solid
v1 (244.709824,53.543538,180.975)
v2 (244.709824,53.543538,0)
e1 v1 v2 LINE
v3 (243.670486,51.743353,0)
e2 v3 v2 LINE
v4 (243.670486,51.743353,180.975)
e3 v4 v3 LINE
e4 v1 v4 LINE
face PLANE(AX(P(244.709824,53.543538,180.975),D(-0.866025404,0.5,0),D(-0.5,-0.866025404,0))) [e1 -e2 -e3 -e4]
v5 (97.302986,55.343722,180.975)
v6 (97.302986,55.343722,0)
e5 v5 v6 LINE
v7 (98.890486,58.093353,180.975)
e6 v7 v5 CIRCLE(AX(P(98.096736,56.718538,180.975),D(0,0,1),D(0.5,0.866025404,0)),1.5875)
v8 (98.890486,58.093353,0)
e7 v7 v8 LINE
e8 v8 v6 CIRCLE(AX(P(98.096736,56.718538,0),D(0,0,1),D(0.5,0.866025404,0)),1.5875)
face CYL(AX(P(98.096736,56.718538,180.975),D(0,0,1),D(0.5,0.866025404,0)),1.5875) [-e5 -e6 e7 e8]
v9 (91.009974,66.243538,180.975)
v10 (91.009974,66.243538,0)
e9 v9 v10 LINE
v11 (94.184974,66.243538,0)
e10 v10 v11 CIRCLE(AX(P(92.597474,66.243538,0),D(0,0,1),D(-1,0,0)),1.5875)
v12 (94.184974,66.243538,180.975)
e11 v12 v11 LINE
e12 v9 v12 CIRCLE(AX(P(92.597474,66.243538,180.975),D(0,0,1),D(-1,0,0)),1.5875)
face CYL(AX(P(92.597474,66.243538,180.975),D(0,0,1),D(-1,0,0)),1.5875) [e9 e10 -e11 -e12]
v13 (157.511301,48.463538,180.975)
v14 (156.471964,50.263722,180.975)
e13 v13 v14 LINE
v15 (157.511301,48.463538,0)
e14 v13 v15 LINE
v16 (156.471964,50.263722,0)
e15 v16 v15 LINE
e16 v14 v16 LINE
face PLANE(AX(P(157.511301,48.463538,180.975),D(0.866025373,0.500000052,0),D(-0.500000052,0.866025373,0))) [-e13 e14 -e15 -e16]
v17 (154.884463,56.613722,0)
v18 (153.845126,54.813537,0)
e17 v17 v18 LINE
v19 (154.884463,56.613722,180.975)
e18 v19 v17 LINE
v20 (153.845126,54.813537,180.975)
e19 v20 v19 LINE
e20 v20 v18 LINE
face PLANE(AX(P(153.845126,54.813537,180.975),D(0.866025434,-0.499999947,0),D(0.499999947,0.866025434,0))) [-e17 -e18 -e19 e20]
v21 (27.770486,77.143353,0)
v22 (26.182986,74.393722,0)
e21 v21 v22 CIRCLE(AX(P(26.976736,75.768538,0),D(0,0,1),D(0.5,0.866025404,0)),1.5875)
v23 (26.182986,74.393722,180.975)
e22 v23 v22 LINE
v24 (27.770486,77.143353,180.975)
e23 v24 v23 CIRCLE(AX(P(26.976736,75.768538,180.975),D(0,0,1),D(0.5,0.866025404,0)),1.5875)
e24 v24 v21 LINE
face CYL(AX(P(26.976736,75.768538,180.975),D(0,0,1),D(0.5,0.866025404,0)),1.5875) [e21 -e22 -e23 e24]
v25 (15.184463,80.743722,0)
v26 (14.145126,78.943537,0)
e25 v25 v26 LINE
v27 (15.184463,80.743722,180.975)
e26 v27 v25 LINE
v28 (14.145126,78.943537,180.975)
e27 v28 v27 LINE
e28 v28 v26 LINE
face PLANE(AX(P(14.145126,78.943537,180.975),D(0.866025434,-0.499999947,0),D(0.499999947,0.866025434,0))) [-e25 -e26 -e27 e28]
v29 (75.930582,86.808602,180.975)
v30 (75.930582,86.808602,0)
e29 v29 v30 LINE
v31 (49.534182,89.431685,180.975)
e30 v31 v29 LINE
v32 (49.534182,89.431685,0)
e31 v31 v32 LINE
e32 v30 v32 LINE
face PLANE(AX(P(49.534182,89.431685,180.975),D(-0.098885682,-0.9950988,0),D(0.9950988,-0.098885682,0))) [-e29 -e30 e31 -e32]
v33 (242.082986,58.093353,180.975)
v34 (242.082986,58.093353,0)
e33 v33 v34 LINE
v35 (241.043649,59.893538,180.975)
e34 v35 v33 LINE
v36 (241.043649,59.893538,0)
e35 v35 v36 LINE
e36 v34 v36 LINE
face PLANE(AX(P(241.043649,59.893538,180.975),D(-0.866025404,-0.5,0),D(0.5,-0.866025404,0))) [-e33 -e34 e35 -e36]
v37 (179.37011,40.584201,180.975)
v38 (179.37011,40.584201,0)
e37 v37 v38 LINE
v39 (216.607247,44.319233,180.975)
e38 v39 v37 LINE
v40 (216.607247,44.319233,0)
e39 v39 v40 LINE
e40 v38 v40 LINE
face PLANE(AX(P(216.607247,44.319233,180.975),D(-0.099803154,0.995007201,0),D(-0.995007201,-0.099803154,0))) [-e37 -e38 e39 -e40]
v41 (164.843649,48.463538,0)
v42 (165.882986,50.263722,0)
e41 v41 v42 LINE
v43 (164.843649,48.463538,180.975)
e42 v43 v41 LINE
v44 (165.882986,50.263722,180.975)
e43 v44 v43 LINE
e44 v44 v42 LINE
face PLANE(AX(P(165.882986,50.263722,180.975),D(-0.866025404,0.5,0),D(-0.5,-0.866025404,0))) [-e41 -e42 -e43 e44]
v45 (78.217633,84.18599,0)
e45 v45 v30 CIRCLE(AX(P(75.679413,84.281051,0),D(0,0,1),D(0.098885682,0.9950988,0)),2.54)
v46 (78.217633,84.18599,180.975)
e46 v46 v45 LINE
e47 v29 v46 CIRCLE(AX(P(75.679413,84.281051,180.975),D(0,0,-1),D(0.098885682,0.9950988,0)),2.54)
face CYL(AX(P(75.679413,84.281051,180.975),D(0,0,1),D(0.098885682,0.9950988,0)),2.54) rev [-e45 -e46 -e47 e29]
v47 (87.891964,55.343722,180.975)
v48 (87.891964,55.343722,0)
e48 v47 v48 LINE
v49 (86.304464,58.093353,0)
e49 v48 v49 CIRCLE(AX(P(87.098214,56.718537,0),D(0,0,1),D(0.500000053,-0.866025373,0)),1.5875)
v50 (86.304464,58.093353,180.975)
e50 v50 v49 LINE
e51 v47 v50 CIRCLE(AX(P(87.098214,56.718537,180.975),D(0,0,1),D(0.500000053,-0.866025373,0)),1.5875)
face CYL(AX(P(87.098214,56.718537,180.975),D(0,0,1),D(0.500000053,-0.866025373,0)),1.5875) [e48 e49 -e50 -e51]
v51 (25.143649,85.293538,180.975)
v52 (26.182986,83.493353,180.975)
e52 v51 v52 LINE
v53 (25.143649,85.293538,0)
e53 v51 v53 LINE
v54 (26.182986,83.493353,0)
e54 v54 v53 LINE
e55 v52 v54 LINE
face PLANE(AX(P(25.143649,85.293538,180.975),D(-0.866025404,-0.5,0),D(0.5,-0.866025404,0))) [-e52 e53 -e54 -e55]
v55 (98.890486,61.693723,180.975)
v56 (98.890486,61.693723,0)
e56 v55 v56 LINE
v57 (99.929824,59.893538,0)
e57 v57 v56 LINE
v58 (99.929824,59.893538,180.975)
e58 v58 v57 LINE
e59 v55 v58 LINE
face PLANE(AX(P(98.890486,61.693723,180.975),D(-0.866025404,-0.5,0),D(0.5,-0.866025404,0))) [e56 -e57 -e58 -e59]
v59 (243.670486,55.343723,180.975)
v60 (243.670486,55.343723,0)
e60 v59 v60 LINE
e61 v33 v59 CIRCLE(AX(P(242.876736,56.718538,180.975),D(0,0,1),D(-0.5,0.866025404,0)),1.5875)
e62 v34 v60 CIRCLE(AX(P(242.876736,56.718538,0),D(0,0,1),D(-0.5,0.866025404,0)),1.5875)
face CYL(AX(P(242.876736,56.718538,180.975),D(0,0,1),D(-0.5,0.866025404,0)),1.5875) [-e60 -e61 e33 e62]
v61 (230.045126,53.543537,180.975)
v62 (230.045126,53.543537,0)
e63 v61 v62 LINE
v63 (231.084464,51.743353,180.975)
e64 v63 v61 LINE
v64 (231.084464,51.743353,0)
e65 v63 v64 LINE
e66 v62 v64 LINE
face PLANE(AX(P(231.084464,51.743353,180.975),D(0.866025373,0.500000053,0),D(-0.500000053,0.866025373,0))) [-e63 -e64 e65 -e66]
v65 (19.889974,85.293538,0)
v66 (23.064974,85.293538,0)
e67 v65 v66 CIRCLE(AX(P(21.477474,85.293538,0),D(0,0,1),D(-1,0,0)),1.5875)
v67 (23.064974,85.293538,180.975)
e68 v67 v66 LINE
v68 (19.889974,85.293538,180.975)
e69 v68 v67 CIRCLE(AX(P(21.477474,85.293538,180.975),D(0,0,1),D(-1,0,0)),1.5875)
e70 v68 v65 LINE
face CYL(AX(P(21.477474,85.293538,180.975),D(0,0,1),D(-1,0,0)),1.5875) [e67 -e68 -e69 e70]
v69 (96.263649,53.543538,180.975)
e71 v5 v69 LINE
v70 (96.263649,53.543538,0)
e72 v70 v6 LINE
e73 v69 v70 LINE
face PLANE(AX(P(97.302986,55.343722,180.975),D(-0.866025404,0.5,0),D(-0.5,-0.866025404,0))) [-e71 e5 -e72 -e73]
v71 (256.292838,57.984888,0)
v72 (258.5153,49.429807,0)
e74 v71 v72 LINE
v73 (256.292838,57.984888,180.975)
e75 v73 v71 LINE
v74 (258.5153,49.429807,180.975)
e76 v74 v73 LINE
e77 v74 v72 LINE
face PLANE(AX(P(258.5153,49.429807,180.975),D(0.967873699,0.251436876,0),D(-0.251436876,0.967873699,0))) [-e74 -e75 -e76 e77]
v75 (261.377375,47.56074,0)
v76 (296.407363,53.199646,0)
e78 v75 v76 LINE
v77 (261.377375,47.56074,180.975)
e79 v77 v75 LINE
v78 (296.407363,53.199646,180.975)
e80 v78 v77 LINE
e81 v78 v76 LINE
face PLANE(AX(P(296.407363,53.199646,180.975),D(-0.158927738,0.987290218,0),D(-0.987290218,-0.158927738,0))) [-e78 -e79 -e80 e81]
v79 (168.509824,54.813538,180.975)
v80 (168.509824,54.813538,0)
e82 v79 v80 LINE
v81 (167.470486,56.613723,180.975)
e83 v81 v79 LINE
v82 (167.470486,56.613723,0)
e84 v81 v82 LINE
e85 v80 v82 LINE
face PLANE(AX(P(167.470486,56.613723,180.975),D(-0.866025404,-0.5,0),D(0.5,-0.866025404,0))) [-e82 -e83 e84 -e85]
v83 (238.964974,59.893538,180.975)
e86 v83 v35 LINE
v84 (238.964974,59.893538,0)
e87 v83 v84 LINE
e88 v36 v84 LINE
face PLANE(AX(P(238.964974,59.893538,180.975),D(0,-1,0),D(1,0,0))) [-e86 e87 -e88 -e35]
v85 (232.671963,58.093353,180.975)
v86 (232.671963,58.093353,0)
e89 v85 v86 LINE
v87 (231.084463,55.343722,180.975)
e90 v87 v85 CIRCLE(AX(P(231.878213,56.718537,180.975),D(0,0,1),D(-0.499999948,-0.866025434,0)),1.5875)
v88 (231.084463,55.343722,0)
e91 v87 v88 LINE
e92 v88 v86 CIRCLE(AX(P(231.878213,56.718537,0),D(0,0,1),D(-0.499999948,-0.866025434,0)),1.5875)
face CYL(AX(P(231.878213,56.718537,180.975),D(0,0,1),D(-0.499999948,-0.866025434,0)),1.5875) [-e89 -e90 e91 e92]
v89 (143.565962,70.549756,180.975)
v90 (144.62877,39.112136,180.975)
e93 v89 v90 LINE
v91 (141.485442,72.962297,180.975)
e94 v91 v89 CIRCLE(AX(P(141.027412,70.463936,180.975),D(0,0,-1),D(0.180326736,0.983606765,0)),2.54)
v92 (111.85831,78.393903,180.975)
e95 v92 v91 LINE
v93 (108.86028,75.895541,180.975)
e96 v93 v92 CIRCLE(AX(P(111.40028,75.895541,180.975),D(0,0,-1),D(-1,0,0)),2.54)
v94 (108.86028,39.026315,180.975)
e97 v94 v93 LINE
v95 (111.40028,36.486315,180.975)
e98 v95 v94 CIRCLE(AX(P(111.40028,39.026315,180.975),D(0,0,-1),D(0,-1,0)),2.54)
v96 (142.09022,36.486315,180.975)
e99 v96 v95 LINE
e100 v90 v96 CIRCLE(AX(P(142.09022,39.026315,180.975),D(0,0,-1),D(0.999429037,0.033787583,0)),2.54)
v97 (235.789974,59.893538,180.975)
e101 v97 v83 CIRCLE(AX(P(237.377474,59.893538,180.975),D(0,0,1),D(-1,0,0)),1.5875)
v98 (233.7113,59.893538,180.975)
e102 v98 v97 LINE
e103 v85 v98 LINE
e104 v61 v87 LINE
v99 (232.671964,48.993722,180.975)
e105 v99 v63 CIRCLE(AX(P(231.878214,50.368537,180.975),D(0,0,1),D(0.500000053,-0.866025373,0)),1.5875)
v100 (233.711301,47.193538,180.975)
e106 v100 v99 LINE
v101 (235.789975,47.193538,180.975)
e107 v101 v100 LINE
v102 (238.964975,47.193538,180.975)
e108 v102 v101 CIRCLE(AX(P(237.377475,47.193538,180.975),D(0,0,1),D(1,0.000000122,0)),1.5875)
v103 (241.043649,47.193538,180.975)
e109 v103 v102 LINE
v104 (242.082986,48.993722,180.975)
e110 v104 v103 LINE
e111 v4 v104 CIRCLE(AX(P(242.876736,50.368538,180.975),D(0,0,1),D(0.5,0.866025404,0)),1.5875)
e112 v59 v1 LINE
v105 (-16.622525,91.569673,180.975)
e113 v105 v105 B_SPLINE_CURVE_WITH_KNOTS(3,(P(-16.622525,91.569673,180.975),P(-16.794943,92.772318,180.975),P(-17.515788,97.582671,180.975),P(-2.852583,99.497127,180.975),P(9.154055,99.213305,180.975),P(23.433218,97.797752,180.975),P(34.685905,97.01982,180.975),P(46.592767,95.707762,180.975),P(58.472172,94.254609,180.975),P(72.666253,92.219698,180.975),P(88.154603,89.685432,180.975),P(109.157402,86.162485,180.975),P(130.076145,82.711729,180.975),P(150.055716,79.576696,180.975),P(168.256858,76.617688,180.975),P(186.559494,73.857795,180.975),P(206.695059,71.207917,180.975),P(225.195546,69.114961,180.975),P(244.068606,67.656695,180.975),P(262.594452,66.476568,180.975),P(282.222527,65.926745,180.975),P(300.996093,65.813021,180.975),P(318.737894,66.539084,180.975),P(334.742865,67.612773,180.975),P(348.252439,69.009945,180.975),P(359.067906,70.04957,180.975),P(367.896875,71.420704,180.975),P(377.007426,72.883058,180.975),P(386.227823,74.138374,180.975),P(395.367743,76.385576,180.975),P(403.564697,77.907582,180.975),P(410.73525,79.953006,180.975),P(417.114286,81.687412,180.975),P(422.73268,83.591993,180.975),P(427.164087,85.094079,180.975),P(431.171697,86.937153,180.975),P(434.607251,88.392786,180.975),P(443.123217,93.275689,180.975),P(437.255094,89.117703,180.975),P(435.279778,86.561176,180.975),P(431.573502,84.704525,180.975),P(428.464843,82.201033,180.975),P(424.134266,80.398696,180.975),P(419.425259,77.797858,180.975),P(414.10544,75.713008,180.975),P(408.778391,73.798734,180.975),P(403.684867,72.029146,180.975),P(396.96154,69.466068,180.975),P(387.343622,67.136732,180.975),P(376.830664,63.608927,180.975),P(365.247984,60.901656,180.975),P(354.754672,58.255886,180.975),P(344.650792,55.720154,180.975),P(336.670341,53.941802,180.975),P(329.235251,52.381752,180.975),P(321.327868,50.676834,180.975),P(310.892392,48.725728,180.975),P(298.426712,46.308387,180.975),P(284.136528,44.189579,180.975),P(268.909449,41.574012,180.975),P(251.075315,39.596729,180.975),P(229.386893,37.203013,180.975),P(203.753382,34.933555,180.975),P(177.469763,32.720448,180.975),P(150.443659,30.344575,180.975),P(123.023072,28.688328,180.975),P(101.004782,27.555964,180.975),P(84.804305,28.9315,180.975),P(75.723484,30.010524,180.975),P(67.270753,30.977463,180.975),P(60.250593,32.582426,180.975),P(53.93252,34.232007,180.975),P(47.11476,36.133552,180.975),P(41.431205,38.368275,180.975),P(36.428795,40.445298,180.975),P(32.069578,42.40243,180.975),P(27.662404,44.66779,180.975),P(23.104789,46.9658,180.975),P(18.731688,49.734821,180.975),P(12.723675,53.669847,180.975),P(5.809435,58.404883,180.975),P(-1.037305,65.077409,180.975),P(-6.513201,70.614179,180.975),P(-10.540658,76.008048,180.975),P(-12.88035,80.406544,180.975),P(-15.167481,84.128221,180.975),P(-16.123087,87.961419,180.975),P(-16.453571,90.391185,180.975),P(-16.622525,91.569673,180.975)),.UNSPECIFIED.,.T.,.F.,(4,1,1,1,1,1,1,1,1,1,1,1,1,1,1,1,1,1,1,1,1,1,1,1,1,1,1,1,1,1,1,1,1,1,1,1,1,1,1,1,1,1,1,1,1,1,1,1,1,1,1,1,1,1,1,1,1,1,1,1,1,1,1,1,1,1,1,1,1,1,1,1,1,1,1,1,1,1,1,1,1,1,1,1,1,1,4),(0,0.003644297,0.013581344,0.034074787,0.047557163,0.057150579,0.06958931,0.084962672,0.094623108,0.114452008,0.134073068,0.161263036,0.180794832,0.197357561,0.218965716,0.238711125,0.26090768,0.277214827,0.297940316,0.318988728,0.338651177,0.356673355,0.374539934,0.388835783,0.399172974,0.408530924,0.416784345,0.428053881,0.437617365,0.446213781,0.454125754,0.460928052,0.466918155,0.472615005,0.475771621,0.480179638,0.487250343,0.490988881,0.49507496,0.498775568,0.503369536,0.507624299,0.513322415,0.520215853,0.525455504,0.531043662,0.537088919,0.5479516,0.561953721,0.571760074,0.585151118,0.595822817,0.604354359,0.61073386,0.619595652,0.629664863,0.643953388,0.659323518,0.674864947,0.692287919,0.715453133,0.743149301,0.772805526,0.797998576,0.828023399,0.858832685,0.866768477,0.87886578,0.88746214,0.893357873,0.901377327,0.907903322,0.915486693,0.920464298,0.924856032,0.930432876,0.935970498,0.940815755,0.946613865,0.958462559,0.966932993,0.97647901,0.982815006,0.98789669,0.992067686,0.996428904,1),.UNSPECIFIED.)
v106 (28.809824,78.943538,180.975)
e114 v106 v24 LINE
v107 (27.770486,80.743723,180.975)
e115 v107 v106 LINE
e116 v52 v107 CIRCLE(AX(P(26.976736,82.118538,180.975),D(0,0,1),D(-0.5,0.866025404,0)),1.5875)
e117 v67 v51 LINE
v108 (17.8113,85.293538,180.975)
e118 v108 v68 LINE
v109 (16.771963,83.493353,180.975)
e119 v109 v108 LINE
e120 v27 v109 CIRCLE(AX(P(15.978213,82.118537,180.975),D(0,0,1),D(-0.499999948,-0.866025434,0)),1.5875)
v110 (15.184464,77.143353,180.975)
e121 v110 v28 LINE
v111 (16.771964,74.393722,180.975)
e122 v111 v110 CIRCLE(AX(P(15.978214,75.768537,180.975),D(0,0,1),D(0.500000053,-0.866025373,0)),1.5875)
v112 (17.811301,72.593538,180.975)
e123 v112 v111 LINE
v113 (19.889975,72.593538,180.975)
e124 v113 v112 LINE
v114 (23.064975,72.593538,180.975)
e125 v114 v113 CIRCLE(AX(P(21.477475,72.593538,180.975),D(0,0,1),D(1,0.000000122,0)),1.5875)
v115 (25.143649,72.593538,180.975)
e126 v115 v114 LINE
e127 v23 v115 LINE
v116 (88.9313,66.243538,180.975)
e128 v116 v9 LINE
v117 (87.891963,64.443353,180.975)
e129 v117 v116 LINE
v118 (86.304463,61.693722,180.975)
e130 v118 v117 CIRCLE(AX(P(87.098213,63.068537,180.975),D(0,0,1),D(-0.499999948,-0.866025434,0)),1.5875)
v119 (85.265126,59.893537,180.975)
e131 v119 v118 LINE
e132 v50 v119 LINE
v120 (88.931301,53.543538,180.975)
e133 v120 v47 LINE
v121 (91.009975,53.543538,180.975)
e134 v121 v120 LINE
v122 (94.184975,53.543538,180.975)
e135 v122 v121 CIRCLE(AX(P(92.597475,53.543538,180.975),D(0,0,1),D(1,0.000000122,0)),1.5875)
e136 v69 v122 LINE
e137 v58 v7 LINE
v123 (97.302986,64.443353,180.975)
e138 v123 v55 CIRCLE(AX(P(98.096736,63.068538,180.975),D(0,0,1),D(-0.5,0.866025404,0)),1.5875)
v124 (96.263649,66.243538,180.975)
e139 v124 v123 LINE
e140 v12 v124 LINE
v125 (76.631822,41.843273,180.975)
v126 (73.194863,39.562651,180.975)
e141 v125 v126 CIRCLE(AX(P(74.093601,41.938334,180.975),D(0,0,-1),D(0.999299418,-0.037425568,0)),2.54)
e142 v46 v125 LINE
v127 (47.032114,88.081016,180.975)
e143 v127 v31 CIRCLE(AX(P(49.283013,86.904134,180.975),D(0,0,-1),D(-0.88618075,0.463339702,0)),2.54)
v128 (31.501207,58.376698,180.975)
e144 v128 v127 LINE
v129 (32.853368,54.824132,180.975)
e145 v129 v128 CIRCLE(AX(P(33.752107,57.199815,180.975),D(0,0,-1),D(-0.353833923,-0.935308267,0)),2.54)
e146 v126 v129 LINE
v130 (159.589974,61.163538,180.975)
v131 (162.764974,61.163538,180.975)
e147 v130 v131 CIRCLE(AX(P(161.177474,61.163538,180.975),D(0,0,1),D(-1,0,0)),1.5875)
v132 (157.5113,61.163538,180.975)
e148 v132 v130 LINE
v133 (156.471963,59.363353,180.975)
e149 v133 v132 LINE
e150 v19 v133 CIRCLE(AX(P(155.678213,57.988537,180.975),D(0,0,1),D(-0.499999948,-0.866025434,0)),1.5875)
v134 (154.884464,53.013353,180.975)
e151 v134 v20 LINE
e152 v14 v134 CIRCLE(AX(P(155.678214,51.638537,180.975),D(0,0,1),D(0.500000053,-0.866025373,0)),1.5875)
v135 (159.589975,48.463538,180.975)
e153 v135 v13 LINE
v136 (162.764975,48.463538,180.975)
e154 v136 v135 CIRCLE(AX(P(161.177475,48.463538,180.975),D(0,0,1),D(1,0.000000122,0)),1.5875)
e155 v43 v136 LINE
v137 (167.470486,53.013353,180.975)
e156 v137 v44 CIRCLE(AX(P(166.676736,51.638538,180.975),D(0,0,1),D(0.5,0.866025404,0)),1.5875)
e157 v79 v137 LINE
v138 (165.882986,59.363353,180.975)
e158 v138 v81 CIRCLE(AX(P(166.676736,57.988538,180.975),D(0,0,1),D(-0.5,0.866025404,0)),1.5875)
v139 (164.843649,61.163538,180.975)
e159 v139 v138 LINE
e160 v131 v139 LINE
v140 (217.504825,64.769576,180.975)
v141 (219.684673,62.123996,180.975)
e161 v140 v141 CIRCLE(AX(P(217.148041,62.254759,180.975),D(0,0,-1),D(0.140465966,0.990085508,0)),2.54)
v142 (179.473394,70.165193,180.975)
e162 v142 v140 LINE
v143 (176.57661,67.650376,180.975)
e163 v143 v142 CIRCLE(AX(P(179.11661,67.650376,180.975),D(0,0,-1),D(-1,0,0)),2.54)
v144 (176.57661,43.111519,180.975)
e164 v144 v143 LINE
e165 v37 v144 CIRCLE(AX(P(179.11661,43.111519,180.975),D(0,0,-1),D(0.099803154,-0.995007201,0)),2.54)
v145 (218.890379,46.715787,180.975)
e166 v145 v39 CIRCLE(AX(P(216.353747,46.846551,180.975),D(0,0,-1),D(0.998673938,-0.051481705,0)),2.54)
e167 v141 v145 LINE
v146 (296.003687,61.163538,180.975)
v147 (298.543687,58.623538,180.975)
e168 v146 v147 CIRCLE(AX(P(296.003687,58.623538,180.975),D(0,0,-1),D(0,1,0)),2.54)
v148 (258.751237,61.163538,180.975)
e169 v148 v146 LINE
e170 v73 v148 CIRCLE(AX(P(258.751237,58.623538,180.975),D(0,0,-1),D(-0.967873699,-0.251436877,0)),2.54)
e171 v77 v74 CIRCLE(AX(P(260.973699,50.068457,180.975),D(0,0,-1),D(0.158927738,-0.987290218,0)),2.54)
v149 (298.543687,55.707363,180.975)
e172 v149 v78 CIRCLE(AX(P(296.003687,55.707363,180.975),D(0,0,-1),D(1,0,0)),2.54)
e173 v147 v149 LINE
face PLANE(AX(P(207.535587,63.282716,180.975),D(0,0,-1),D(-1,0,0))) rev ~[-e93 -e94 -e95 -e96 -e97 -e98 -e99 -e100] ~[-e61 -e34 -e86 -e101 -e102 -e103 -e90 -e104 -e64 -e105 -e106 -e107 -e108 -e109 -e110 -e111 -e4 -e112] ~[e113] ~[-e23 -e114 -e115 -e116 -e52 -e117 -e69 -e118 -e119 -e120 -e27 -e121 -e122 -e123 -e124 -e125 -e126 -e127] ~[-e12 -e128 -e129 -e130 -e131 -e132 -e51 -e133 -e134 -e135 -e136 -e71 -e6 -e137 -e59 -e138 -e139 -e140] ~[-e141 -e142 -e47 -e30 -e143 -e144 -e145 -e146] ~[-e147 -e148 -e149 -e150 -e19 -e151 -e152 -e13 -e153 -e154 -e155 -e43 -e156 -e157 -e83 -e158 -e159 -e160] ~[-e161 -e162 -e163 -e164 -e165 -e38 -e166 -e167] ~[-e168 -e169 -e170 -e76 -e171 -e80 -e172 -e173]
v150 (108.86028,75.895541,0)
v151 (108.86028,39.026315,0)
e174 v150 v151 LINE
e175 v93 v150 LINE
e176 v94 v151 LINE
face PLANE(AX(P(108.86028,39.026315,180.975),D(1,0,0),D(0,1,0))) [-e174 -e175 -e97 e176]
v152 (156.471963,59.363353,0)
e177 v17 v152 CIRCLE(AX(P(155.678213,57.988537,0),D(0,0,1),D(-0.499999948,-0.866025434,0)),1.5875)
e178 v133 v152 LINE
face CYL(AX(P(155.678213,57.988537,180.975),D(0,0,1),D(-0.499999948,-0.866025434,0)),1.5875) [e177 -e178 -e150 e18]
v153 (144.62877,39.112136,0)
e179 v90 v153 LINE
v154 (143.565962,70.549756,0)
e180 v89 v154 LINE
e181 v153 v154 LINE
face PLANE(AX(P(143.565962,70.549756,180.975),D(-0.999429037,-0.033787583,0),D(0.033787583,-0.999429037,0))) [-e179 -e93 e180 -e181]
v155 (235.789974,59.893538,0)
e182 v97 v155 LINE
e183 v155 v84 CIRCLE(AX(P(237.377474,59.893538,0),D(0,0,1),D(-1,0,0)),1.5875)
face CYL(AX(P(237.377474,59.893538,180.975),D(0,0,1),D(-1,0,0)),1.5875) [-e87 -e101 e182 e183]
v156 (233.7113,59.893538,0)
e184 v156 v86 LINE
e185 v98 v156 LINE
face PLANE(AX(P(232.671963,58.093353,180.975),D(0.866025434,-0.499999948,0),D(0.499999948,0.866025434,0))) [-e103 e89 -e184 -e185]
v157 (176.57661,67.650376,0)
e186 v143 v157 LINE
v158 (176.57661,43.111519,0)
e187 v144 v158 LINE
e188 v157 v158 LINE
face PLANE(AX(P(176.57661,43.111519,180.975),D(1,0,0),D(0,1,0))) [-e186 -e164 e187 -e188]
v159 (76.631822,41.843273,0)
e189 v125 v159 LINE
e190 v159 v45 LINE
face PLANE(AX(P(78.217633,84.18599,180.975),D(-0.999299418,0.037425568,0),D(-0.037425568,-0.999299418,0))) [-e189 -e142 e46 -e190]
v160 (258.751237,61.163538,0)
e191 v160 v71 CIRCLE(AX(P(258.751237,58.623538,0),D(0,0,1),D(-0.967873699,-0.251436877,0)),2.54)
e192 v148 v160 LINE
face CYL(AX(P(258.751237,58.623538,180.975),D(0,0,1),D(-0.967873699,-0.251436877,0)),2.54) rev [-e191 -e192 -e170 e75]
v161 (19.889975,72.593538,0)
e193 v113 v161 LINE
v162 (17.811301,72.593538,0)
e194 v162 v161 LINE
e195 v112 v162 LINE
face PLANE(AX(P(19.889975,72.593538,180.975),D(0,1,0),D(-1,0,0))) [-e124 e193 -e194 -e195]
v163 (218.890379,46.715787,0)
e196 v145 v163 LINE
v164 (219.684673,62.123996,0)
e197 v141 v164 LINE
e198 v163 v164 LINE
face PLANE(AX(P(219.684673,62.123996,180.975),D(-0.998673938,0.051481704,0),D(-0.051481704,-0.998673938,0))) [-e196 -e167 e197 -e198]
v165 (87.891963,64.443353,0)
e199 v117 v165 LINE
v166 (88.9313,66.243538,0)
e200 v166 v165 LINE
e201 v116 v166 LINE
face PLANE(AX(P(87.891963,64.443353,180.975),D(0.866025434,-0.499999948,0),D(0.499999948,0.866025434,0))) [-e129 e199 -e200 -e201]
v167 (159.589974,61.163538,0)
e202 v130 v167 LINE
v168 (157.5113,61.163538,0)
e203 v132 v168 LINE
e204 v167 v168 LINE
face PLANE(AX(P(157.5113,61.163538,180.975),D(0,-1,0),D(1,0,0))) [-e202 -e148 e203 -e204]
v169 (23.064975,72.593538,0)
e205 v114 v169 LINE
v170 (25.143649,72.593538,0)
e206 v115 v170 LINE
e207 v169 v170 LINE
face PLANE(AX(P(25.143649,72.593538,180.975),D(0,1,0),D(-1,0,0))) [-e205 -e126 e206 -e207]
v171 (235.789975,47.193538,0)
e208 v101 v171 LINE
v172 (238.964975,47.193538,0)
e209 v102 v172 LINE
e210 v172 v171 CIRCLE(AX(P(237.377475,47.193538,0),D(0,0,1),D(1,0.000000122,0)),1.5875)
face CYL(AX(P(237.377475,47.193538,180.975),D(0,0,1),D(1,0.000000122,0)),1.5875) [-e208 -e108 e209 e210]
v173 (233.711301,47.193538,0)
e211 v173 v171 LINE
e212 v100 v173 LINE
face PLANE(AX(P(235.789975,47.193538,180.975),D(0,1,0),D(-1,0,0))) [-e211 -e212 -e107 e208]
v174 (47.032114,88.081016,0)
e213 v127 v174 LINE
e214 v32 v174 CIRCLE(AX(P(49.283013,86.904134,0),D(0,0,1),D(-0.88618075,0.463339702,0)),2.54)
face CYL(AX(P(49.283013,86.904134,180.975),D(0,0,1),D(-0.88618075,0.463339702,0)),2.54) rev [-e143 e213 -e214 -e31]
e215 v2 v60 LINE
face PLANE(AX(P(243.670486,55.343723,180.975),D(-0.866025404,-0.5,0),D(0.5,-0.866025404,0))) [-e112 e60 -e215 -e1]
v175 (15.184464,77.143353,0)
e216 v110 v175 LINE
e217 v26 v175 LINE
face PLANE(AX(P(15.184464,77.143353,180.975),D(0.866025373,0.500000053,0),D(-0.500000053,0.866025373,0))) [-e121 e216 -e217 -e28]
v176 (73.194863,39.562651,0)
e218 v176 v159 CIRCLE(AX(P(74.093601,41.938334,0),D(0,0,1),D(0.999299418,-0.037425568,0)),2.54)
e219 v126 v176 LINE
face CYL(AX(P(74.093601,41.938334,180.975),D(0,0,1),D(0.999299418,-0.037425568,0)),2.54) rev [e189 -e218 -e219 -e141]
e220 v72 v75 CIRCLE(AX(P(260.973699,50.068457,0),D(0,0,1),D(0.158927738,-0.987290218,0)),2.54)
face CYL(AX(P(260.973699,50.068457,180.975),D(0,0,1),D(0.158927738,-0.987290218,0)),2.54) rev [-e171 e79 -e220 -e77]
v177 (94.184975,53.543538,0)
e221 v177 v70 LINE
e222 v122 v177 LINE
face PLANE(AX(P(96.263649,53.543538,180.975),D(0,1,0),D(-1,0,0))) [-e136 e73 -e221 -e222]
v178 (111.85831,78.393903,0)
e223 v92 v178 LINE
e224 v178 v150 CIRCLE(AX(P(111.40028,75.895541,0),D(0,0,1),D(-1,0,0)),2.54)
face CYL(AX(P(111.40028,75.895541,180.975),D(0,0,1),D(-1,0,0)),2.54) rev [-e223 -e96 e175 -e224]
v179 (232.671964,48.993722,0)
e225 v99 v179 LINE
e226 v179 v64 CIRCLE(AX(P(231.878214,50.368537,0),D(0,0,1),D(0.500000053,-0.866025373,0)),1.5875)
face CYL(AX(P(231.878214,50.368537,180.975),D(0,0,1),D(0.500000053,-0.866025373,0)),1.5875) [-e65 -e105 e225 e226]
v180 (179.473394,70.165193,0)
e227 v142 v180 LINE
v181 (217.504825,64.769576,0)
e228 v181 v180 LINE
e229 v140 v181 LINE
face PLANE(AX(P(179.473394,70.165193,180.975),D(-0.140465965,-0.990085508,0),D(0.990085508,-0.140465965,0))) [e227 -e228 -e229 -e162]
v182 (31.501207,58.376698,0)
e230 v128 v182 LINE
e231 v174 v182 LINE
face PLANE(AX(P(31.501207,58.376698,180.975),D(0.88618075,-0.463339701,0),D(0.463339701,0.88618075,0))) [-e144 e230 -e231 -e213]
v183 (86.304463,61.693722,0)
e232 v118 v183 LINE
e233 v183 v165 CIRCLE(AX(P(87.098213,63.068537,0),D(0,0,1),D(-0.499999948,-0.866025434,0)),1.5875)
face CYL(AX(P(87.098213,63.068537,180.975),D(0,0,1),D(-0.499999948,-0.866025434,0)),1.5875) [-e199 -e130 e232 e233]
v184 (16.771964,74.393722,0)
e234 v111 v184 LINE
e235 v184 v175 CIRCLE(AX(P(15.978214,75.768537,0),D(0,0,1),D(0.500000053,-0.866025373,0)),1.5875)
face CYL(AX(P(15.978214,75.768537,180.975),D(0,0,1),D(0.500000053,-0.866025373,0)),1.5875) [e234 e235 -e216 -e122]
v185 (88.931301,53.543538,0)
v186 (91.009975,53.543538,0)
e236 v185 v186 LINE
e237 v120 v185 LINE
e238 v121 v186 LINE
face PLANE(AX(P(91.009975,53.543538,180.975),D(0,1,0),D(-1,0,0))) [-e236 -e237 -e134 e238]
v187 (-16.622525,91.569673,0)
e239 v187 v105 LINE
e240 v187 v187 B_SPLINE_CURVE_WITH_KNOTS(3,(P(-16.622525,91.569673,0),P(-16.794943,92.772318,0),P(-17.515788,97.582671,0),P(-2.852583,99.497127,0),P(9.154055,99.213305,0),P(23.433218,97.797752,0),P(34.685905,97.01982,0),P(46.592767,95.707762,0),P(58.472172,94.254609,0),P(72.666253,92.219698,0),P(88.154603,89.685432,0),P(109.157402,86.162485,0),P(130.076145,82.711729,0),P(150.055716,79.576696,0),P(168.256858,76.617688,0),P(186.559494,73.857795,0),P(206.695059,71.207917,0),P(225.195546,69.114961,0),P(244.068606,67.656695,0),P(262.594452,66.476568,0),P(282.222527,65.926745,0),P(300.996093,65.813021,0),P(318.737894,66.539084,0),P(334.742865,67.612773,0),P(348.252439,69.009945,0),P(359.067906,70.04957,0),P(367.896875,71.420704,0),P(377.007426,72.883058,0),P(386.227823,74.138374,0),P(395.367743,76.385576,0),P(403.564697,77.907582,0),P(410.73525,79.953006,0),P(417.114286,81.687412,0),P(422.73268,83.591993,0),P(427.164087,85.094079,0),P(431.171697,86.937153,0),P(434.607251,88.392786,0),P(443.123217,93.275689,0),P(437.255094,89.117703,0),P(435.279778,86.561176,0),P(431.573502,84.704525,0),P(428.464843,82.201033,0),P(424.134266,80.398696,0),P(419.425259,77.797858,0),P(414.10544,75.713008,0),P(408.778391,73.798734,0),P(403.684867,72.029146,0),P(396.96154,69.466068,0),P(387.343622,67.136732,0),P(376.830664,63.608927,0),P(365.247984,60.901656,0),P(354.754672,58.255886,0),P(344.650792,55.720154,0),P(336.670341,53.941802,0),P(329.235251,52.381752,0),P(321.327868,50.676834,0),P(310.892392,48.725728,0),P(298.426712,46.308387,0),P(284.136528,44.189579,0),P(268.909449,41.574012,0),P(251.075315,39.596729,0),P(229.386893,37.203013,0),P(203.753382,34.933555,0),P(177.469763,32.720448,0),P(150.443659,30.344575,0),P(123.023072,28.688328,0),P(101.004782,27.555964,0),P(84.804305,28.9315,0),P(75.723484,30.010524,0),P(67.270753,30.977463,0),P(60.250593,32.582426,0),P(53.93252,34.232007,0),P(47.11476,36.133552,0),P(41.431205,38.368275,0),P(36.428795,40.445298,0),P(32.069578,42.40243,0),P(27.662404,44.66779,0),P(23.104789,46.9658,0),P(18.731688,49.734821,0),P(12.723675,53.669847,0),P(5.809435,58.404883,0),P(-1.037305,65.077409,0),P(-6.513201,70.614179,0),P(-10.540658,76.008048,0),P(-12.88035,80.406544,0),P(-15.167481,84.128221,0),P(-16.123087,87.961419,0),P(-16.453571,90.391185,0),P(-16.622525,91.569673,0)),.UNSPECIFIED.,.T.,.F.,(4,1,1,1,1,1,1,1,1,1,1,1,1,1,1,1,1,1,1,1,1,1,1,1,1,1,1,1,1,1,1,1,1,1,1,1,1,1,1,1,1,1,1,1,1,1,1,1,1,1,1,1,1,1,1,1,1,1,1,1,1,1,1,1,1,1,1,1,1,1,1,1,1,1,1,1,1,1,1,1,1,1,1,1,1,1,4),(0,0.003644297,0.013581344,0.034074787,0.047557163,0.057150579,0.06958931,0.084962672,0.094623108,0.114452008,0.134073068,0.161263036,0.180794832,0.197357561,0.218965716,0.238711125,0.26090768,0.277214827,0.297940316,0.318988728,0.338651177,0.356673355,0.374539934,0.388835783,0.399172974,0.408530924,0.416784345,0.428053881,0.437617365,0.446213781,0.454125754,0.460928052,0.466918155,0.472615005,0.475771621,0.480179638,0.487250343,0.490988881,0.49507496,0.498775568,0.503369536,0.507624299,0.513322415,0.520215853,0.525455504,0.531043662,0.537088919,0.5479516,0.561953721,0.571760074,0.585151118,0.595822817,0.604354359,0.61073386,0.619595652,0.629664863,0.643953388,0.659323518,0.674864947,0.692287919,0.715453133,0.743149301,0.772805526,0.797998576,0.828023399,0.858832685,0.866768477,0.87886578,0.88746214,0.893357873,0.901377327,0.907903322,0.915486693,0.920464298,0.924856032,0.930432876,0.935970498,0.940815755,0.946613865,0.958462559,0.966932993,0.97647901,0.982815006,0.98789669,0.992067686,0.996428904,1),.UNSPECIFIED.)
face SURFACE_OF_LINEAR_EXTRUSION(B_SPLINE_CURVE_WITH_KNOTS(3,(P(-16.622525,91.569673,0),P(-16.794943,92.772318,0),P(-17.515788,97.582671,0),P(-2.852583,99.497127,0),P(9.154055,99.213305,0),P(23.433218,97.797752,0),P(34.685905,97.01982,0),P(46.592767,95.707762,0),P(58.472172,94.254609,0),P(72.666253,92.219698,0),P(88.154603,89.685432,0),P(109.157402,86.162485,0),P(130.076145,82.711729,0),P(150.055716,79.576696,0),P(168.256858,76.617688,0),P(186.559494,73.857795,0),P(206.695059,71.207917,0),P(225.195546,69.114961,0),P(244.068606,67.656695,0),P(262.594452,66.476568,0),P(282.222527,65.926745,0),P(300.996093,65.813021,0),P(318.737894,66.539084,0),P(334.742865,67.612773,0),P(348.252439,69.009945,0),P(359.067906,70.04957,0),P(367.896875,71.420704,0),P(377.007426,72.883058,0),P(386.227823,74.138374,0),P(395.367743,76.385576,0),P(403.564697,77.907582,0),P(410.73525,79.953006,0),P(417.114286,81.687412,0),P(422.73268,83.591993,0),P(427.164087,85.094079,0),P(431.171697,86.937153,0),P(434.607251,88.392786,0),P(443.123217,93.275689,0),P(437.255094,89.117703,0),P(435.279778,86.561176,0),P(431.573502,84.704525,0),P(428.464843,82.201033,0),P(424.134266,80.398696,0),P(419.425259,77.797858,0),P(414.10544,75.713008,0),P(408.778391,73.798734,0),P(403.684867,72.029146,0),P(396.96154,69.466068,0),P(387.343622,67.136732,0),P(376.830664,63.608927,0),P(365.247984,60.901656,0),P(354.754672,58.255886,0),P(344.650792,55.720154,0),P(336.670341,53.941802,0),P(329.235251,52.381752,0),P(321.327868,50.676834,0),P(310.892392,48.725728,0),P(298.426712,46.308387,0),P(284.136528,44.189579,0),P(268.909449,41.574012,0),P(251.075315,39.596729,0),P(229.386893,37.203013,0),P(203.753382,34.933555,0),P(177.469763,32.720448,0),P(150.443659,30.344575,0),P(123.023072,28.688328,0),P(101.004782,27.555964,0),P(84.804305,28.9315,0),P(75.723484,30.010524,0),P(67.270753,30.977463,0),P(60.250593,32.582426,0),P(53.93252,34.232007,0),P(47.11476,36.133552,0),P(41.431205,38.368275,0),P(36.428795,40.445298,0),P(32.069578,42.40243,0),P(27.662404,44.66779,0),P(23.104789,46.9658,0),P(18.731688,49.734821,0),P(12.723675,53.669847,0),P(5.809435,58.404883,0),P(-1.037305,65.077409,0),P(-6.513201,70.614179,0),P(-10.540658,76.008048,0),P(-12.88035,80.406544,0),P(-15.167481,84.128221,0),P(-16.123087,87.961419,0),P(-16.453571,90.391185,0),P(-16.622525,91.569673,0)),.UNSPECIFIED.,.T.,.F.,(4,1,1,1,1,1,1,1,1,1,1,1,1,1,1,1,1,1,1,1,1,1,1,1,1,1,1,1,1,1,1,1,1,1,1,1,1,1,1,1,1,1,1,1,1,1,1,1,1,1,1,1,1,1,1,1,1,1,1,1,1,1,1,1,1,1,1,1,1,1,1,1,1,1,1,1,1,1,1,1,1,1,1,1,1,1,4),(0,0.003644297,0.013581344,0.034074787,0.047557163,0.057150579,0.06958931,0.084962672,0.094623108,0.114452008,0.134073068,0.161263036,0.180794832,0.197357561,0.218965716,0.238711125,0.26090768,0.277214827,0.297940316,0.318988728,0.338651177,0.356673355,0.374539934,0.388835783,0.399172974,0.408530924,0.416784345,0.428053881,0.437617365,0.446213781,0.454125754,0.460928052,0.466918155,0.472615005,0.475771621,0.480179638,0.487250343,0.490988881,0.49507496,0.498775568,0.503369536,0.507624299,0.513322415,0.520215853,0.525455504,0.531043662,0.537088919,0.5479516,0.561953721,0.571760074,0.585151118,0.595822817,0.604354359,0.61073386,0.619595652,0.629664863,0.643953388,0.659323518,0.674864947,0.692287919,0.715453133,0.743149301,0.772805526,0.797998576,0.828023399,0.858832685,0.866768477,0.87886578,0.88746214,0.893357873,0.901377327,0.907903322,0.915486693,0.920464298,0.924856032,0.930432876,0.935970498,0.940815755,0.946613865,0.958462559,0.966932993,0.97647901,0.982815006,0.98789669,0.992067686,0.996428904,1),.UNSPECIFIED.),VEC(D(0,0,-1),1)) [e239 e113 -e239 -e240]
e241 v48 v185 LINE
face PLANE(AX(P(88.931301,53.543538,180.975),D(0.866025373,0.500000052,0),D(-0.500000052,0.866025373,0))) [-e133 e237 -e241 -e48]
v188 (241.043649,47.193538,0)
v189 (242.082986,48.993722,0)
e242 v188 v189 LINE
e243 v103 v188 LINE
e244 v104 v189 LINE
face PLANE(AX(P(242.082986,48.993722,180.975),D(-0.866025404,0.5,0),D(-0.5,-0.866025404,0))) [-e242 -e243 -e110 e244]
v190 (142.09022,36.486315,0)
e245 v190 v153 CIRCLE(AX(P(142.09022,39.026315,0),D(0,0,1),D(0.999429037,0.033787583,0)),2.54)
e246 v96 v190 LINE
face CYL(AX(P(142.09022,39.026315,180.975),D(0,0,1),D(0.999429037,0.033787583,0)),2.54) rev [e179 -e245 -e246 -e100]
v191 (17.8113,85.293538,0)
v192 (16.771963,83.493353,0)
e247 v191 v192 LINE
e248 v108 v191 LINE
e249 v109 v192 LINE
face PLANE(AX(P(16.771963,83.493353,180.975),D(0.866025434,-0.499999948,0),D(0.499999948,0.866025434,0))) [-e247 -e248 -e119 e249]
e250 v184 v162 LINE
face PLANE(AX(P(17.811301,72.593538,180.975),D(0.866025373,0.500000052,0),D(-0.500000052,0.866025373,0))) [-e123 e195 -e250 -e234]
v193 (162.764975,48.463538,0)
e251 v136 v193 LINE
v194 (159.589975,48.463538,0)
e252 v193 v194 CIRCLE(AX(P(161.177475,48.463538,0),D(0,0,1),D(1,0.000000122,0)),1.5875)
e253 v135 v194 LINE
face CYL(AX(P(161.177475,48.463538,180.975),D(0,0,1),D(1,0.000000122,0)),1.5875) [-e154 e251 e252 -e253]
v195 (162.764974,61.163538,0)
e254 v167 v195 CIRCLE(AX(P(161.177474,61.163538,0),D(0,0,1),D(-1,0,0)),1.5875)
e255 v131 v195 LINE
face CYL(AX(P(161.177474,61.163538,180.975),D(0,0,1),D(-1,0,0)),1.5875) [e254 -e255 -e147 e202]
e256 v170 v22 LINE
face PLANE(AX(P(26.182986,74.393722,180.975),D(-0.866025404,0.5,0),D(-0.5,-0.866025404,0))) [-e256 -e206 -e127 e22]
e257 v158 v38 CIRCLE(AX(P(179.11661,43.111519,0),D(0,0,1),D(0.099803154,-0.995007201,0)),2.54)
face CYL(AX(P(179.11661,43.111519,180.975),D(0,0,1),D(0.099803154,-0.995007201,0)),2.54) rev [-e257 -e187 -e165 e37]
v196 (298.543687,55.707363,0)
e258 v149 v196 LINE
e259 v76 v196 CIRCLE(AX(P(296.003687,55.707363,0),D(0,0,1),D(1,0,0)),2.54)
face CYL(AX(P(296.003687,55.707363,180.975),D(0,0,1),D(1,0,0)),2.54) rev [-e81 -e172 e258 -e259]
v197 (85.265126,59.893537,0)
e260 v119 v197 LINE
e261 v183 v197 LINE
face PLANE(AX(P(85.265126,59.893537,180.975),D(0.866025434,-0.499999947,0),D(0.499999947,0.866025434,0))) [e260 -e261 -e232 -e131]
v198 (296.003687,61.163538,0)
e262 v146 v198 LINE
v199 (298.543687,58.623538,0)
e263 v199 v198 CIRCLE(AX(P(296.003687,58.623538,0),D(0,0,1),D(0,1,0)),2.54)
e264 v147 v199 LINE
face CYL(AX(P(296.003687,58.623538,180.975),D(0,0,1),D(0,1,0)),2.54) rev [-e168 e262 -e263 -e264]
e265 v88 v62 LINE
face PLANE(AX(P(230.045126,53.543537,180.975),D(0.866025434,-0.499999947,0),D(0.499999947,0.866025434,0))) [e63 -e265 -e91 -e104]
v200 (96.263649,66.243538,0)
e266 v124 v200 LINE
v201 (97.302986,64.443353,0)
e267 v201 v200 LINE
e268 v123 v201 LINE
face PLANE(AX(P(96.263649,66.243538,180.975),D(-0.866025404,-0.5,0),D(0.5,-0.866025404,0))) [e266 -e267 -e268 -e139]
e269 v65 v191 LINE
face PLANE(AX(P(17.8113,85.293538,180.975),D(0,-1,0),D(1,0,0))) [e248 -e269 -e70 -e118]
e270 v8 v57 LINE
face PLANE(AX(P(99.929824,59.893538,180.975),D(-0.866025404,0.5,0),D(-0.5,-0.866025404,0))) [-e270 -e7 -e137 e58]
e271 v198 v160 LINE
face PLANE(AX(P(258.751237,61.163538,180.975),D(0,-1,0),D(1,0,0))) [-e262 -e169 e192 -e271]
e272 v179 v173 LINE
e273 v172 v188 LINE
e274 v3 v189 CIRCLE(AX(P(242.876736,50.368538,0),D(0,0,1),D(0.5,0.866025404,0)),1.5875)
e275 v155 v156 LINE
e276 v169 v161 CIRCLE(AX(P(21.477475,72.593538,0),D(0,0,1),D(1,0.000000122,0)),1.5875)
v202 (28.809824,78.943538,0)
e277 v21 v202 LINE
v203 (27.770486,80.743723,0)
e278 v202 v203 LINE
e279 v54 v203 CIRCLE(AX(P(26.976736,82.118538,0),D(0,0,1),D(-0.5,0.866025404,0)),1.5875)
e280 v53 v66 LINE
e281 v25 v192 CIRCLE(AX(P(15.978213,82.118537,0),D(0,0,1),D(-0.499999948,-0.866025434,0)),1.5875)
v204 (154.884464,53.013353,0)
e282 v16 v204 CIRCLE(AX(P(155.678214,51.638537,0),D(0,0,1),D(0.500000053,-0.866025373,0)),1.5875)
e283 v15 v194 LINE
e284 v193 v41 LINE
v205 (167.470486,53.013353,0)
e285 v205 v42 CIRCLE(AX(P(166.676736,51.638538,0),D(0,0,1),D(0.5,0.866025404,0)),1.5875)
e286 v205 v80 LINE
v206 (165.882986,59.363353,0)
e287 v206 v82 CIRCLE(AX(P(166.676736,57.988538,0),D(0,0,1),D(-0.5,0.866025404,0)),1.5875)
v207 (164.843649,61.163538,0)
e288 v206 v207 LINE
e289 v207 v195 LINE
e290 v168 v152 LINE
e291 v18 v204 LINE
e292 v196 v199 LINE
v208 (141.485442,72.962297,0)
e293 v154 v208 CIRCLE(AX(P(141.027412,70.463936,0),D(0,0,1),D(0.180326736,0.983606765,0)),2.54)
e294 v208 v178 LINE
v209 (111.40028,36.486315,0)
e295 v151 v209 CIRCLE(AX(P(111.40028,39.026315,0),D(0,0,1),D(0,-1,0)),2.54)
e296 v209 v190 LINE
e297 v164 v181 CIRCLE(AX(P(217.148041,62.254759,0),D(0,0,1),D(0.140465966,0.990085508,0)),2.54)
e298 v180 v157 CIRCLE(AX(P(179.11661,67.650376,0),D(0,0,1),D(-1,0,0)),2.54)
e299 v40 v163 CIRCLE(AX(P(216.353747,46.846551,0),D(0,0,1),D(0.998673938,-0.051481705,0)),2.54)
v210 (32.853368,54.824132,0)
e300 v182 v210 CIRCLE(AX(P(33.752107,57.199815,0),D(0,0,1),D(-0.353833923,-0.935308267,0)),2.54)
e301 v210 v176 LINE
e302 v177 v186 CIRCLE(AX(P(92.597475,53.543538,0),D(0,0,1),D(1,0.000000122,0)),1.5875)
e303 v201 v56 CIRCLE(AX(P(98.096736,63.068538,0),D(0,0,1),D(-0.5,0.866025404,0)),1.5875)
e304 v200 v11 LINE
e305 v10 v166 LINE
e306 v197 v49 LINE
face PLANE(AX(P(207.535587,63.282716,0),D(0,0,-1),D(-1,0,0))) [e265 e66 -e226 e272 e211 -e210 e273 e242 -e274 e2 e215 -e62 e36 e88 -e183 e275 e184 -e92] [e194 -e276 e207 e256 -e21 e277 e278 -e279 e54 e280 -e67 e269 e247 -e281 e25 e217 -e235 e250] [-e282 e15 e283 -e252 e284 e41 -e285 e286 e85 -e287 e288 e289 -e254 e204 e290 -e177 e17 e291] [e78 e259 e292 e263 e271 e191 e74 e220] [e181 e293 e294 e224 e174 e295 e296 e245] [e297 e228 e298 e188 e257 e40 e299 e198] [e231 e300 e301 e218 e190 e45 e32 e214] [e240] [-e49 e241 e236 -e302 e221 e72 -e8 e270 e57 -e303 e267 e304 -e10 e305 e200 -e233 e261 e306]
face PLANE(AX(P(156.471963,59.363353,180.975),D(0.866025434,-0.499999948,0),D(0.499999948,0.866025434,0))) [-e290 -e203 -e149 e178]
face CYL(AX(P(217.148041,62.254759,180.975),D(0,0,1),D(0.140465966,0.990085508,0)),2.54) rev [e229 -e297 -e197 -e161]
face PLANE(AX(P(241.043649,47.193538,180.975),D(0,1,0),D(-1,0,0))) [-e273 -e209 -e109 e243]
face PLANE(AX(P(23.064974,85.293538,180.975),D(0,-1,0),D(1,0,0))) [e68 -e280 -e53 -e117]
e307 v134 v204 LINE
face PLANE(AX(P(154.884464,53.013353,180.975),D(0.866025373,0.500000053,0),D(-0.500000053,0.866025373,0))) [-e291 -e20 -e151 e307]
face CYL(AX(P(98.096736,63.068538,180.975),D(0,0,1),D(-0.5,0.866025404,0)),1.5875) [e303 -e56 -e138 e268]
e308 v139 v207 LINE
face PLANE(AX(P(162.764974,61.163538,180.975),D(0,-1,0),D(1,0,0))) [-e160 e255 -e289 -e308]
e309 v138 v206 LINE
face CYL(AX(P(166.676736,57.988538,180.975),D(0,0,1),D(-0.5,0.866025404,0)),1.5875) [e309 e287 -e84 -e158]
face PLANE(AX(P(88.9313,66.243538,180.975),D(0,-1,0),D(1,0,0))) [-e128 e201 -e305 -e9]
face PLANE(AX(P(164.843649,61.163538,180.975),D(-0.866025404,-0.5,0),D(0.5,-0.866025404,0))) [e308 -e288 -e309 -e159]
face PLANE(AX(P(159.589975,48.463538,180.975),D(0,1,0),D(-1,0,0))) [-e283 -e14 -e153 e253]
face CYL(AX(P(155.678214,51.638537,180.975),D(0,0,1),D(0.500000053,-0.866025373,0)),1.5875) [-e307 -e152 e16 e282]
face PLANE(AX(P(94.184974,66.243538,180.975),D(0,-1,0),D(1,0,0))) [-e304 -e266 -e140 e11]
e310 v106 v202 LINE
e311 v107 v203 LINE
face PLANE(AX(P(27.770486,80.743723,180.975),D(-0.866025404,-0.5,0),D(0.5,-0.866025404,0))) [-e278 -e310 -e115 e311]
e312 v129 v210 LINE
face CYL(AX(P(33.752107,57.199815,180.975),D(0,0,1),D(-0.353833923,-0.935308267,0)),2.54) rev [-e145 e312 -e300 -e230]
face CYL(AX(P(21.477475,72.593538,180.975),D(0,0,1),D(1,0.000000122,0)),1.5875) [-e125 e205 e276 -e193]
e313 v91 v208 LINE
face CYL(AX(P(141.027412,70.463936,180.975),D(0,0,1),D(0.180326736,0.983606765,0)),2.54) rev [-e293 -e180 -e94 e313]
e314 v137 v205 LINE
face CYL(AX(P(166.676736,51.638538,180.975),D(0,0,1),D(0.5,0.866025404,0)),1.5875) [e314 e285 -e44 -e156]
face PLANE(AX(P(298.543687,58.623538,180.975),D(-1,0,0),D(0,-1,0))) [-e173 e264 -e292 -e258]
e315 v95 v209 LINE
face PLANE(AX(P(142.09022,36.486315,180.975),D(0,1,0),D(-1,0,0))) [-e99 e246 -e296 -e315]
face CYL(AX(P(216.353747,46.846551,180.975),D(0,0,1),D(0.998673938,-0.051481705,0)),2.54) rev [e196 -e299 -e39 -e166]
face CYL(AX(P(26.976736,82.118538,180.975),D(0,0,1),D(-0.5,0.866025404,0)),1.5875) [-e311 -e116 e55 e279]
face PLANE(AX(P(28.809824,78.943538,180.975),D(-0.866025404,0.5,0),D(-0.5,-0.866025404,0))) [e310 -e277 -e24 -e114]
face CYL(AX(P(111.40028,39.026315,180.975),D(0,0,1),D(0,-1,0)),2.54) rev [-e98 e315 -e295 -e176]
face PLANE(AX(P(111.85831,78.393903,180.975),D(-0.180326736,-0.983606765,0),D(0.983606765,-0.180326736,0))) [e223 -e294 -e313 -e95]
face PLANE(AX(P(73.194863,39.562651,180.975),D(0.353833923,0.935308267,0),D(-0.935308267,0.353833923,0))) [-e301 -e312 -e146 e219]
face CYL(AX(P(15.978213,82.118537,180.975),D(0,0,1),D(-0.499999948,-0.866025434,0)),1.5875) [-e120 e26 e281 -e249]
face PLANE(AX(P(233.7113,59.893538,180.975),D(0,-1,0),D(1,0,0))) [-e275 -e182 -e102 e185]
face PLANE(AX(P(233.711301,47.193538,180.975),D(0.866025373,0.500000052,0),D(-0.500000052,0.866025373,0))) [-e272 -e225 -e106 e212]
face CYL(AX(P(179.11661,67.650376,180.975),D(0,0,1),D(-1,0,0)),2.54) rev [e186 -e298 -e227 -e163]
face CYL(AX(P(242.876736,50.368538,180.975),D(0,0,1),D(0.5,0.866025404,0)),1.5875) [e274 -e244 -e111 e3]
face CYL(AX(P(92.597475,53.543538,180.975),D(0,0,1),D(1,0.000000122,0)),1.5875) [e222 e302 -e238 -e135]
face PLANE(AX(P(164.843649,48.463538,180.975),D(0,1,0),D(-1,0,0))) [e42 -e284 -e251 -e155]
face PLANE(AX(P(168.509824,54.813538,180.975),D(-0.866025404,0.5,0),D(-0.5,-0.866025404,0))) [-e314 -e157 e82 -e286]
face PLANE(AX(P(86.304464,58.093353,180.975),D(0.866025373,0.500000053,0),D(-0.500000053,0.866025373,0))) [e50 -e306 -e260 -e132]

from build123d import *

# Parameters (mm, degrees)
BOSS_EXTRUDE1_DEPTH = 180.975
CUT_EXTRUDE3_DEPTH  = 381


with BuildPart() as part:
    # Sketch1 → Boss-Extrude1 (new body)
    with BuildSketch(Plane.XY):
        with BuildLine():
            add(Edge.make_bspline(
                [(-16.622525288, 91.56967272), (-16.794942994, 92.772317911), (-17.515788121, 97.582670832), (-2.852582554, 99.497127174), (9.154054709, 99.213304724), (23.433217875, 97.797752429), (34.6859051, 97.019819773), (46.592767258, 95.707761604), (58.472171701, 94.254609297), (72.666253463, 92.219697635), (88.15460255, 89.685431784), (109.15740223, 86.162485471), (130.076144789, 82.711728928), (150.055716296, 79.576696099), (168.256858053, 76.617688262), (186.559493812, 73.857794613), (206.695059336, 71.20791695), (225.195546149, 69.114961125), (244.068606399, 67.656695297), (262.594452449, 66.476567979), (282.222526995, 65.926744761), (300.99609332, 65.813021246), (318.737894065, 66.539084176), (334.742865336, 67.61277327), (348.252438633, 69.009944705), (359.067906447, 70.049570339), (367.896874578, 71.420704301), (377.007425502, 72.883057797), (386.227823421, 74.138373924), (395.367743176, 76.385575861), (403.564697097, 77.907582397), (410.735250399, 79.953005658), (417.114285798, 81.687412008), (422.732680223, 83.591992804), (427.164087313, 85.094079009), (431.171696898, 86.937153076), (434.607250511, 88.392786361), (443.123217376, 93.275688905), (437.255094337, 89.117703468), (435.279778464, 86.561175616), (431.573501891, 84.704524529), (428.464842726, 82.201032813), (424.134266462, 80.398696308), (419.425258521, 77.797857577), (414.105440345, 75.713007702), (408.77839072, 73.798734141), (403.684867312, 72.029145889), (396.961540144, 69.466067962), (387.343622202, 67.136732033), (376.830663922, 63.608926675), (365.24798357, 60.901656463), (354.754672426, 58.255886458), (344.650791699, 55.720154361), (336.670341174, 53.941801639), (329.235250959, 52.381752299), (321.327868225, 50.676833739), (310.892392252, 48.725728026), (298.426712372, 46.308387166), (284.136528131, 44.189578856), (268.909448728, 41.574011521), (251.075314715, 39.596728872), (229.386892765, 37.203012777), (203.753382466, 34.933554815), (177.46976253, 32.720447696), (150.443659112, 30.344574846), (123.02307167, 28.688327838), (101.004781565, 27.555963663), (84.804305156, 28.931500406), (75.72348416, 30.010523718), (67.270753352, 30.977463397), (60.250592801, 32.582425676), (53.932519662, 34.232006507), (47.114759922, 36.133551764), (41.43120503, 38.368275103), (36.428795002, 40.445297648), (32.069577899, 42.402430324), (27.662403595, 44.667790264), (23.104788958, 46.965799851), (18.73168781, 49.734821084), (12.723675127, 53.669846892), (5.809434759, 58.404883079), (-1.037305312, 65.077409289), (-6.513200759, 70.614178991), (-10.540658158, 76.008047875), (-12.880350205, 80.406543609), (-15.167480815, 84.128221175), (-16.123087236, 87.961419413), (-16.453570873, 90.391184614), (-16.622525288, 91.56967272)],
                knots=[0, 0, 0, 0, 0.003644297, 0.013581344, 0.034074787, 0.047557163, 0.057150579, 0.06958931, 0.084962672, 0.094623108, 0.114452008, 0.134073068, 0.161263036, 0.180794832, 0.197357561, 0.218965716, 0.238711125, 0.26090768, 0.277214827, 0.297940316, 0.318988728, 0.338651177, 0.356673355, 0.374539934, 0.388835783, 0.399172974, 0.408530924, 0.416784345, 0.428053881, 0.437617365, 0.446213781, 0.454125754, 0.460928052, 0.466918155, 0.472615005, 0.475771621, 0.480179638, 0.487250343, 0.490988881, 0.49507496, 0.498775568, 0.503369536, 0.507624299, 0.513322415, 0.520215853, 0.525455504, 0.531043662, 0.537088919, 0.5479516, 0.561953721, 0.571760074, 0.585151118, 0.595822817, 0.604354359, 0.61073386, 0.619595652, 0.629664863, 0.643953388, 0.659323518, 0.674864947, 0.692287919, 0.715453133, 0.743149301, 0.772805526, 0.797998576, 0.828023399, 0.858832685, 0.866768477, 0.87886578, 0.88746214, 0.893357873, 0.901377327, 0.907903322, 0.915486693, 0.920464298, 0.924856032, 0.930432876, 0.935970498, 0.940815755, 0.946613865, 0.958462559, 0.966932993, 0.97647901, 0.982815006, 0.98789669, 0.992067686, 0.996428904, 1, 1, 1, 1], degree=3))
        make_face()
    extrude(amount=BOSS_EXTRUDE1_DEPTH)

    # Sketch4 → Cut-Extrude3 (cut)
    with BuildSketch(Plane.XY.offset(180.975)):
        with BuildLine():
            Line((88.931300118, 66.243537573), (91.009974327, 66.243537573))
            ThreePointArc((91.009974327, 66.243537573), (92.597474327, 64.656037573), (94.184974327, 66.243537573))
            Line((94.184974327, 66.243537573), (96.263648536, 66.243537573))
            Line((96.263648536, 66.243537573), (97.302985641, 64.443352902))
            ThreePointArc((97.302985641, 64.443352902), (96.721920503, 62.274787243), (98.890486301, 61.693722626))
            Line((98.890486301, 61.693722626), (99.929823515, 59.893537766))
            Line((99.929823515, 59.893537766), (98.89048641, 58.093353094))
            ThreePointArc((98.89048641, 58.093353094), (96.721921082, 57.512287766), (97.30298641, 55.343722437))
            Line((97.30298641, 55.343722437), (96.263649306, 53.543537766))
            Line((96.263649306, 53.543537766), (94.184975096, 53.543537766))
            ThreePointArc((94.184975096, 53.543537766), (92.597475, 55.131037573), (91.009975096, 53.543537573))
            Line((91.009975096, 53.543537573), (88.931300887, 53.543537573))
            Line((88.931300887, 53.543537573), (87.891963673, 55.343722182))
            ThreePointArc((87.891963673, 55.343722182), (88.47302887, 57.512287545), (86.304463507, 58.093352743))
            Line((86.304463507, 58.093352743), (85.265126293, 59.893537351))
            Line((85.265126293, 59.893537351), (86.304463288, 61.693722086))
            ThreePointArc((86.304463288, 61.693722086), (88.473028582, 62.274787545), (87.891963122, 64.443352839))
            Line((87.891963122, 64.443352839), (88.931300118, 66.243537573))
        make_face()
        with BuildLine():
            Line((17.811300118, 85.293537573), (19.889974327, 85.293537573))
            ThreePointArc((19.889974327, 85.293537573), (21.477474327, 83.706037573), (23.064974327, 85.293537573))
            Line((23.064974327, 85.293537573), (25.143648536, 85.293537573))
            Line((25.143648536, 85.293537573), (26.182985641, 83.493352902))
            ThreePointArc((26.182985641, 83.493352902), (25.601920503, 81.324787243), (27.770486301, 80.743722626))
            Line((27.770486301, 80.743722626), (28.809823515, 78.943537766))
            Line((28.809823515, 78.943537766), (27.77048641, 77.143353094))
            ThreePointArc((27.77048641, 77.143353094), (25.601921082, 76.562287766), (26.18298641, 74.393722437))
            Line((26.18298641, 74.393722437), (25.143649306, 72.593537766))
            Line((25.143649306, 72.593537766), (23.064975096, 72.593537766))
            ThreePointArc((23.064975096, 72.593537766), (21.477475, 74.181037573), (19.889975096, 72.593537573))
            Line((19.889975096, 72.593537573), (17.811300887, 72.593537573))
            Line((17.811300887, 72.593537573), (16.771963673, 74.393722182))
            ThreePointArc((16.771963673, 74.393722182), (17.35302887, 76.562287545), (15.184463507, 77.143352743))
            Line((15.184463507, 77.143352743), (14.145126293, 78.943537351))
            Line((14.145126293, 78.943537351), (15.184463288, 80.743722086))
            ThreePointArc((15.184463288, 80.743722086), (17.353028582, 81.324787545), (16.771963122, 83.493352839))
            Line((16.771963122, 83.493352839), (17.811300118, 85.293537573))
        make_face()
        with BuildLine():
            Line((233.711300118, 59.893537573), (235.789974327, 59.893537573))
            ThreePointArc((235.789974327, 59.893537573), (237.377474327, 58.306037573), (238.964974327, 59.893537573))
            Line((238.964974327, 59.893537573), (241.043648536, 59.893537573))
            Line((241.043648536, 59.893537573), (242.082985641, 58.093352902))
            ThreePointArc((242.082985641, 58.093352902), (241.501920503, 55.924787243), (243.670486301, 55.343722626))
            Line((243.670486301, 55.343722626), (244.709823515, 53.543537766))
            Line((244.709823515, 53.543537766), (243.67048641, 51.743353094))
            ThreePointArc((243.67048641, 51.743353094), (241.501921082, 51.162287766), (242.08298641, 48.993722437))
            Line((242.08298641, 48.993722437), (241.043649306, 47.193537766))
            Line((241.043649306, 47.193537766), (238.964975096, 47.193537766))
            ThreePointArc((238.964975096, 47.193537766), (237.377475, 48.781037573), (235.789975096, 47.193537573))
            Line((235.789975096, 47.193537573), (233.711300887, 47.193537573))
            Line((233.711300887, 47.193537573), (232.671963673, 48.993722182))
            ThreePointArc((232.671963673, 48.993722182), (233.25302887, 51.162287545), (231.084463507, 51.743352743))
            Line((231.084463507, 51.743352743), (230.045126293, 53.543537351))
            Line((230.045126293, 53.543537351), (231.084463288, 55.343722086))
            ThreePointArc((231.084463288, 55.343722086), (233.253028582, 55.924787545), (232.671963122, 58.093352839))
            Line((232.671963122, 58.093352839), (233.711300118, 59.893537573))
        make_face()
        with BuildLine():
            Line((157.511300118, 61.163537573), (159.589974327, 61.163537573))
            ThreePointArc((159.589974327, 61.163537573), (161.177474327, 59.576037573), (162.764974327, 61.163537573))
            Line((162.764974327, 61.163537573), (164.843648536, 61.163537573))
            Line((164.843648536, 61.163537573), (165.882985641, 59.363352902))
            ThreePointArc((165.882985641, 59.363352902), (165.301920503, 57.194787243), (167.470486301, 56.613722626))
            Line((167.470486301, 56.613722626), (168.509823515, 54.813537766))
            Line((168.509823515, 54.813537766), (167.47048641, 53.013353094))
            ThreePointArc((167.47048641, 53.013353094), (165.301921082, 52.432287766), (165.88298641, 50.263722437))
            Line((165.88298641, 50.263722437), (164.843649306, 48.463537766))
            Line((164.843649306, 48.463537766), (162.764975096, 48.463537766))
            ThreePointArc((162.764975096, 48.463537766), (161.177475, 50.051037573), (159.589975096, 48.463537573))
            Line((159.589975096, 48.463537573), (157.511300887, 48.463537573))
            Line((157.511300887, 48.463537573), (156.471963673, 50.263722182))
            ThreePointArc((156.471963673, 50.263722182), (157.05302887, 52.432287545), (154.884463507, 53.013352743))
            Line((154.884463507, 53.013352743), (153.845126293, 54.813537351))
            Line((153.845126293, 54.813537351), (154.884463288, 56.613722086))
            ThreePointArc((154.884463288, 56.613722086), (157.053028582, 57.194787545), (156.471963122, 59.363352839))
            Line((156.471963122, 59.363352839), (157.511300118, 61.163537573))
        make_face()
        with BuildLine():
            Line((31.501207482, 58.37669779), (47.032113751, 88.081016492))
            ThreePointArc((47.032113751, 88.081016492), (48.076445172, 89.139261035), (49.534182489, 89.431684603))
            Line((49.534182489, 89.431684603), (75.93058222, 86.808602351))
            ThreePointArc((75.93058222, 86.808602351), (77.593752589, 85.950453195), (78.217633108, 84.185990458))
            Line((78.217633108, 84.185990458), (76.631821885, 41.843273018))
            ThreePointArc((76.631821885, 41.843273018), (75.497981954, 39.821894696), (73.194863199, 39.56265096))
            Line((73.194863199, 39.56265096), (32.853368422, 54.824131949))
            ThreePointArc((32.853368422, 54.824131949), (31.378241648, 56.296285615), (31.501207482, 58.37669779))
        make_face()
        with BuildLine():
            Line((111.858309541, 78.393902518), (141.485442222, 72.962296795))
            ThreePointArc((141.485442222, 72.962296795), (142.950940478, 72.12274223), (143.565962065, 70.549756072))
            Line((143.565962065, 70.549756072), (144.628770085, 39.112135773))
            ThreePointArc((144.628770085, 39.112135773), (143.916361615, 37.260866924), (142.090220332, 36.486315313))
            Line((142.090220332, 36.486315313), (111.400279631, 36.486315313))
            ThreePointArc((111.400279631, 36.486315313), (109.604228407, 37.230264089), (108.860279631, 39.026315313))
            Line((108.860279631, 39.026315313), (108.860279631, 75.895541334))
            ThreePointArc((108.860279631, 75.895541334), (109.774210132, 77.846822448), (111.858309541, 78.393902518))
        make_face()
        with BuildLine():
            Line((179.473393864, 70.165192722), (217.50482476, 64.769576264))
            ThreePointArc((217.50482476, 64.769576264), (219.108331349, 63.86995645), (219.68467301, 62.123995546))
            Line((219.68467301, 62.123995546), (218.890378913, 46.71578744))
            ThreePointArc((218.890378913, 46.71578744), (218.192789678, 45.094545708), (216.607247121, 44.319232678))
            Line((216.607247121, 44.319232678), (179.370110323, 40.58420072))
            ThreePointArc((179.370110323, 40.58420072), (177.412540188, 41.227973149), (176.576610312, 43.111519011))
            Line((176.576610312, 43.111519011), (176.576610312, 67.650375533))
            ThreePointArc((176.576610312, 67.650375533), (177.451472213, 69.568425352), (179.473393864, 70.165192722))
        make_face()
        with BuildLine():
            Line((258.751236774, 61.163537573), (296.003687002, 61.163537573))
            ThreePointArc((296.003687002, 61.163537573), (297.799738226, 60.419588797), (298.543687002, 58.623537573))
            Line((298.543687002, 58.623537573), (298.543687002, 55.707363059))
            ThreePointArc((298.543687002, 55.707363059), (297.937199117, 54.060204626), (296.407363457, 53.199645906))
            Line((296.407363457, 53.199645906), (261.377375447, 47.560739881))
            ThreePointArc((261.377375447, 47.560739881), (259.584877656, 47.941775277), (258.515299797, 49.429807368))
            Line((258.515299797, 49.429807368), (256.292837579, 57.984887907))
            ThreePointArc((256.292837579, 57.984887907), (256.742036666, 60.177472876), (258.751236774, 61.163537573))
        make_face()
    extrude(amount=-CUT_EXTRUDE3_DEPTH, mode=Mode.SUBTRACT)


solid = part.part
